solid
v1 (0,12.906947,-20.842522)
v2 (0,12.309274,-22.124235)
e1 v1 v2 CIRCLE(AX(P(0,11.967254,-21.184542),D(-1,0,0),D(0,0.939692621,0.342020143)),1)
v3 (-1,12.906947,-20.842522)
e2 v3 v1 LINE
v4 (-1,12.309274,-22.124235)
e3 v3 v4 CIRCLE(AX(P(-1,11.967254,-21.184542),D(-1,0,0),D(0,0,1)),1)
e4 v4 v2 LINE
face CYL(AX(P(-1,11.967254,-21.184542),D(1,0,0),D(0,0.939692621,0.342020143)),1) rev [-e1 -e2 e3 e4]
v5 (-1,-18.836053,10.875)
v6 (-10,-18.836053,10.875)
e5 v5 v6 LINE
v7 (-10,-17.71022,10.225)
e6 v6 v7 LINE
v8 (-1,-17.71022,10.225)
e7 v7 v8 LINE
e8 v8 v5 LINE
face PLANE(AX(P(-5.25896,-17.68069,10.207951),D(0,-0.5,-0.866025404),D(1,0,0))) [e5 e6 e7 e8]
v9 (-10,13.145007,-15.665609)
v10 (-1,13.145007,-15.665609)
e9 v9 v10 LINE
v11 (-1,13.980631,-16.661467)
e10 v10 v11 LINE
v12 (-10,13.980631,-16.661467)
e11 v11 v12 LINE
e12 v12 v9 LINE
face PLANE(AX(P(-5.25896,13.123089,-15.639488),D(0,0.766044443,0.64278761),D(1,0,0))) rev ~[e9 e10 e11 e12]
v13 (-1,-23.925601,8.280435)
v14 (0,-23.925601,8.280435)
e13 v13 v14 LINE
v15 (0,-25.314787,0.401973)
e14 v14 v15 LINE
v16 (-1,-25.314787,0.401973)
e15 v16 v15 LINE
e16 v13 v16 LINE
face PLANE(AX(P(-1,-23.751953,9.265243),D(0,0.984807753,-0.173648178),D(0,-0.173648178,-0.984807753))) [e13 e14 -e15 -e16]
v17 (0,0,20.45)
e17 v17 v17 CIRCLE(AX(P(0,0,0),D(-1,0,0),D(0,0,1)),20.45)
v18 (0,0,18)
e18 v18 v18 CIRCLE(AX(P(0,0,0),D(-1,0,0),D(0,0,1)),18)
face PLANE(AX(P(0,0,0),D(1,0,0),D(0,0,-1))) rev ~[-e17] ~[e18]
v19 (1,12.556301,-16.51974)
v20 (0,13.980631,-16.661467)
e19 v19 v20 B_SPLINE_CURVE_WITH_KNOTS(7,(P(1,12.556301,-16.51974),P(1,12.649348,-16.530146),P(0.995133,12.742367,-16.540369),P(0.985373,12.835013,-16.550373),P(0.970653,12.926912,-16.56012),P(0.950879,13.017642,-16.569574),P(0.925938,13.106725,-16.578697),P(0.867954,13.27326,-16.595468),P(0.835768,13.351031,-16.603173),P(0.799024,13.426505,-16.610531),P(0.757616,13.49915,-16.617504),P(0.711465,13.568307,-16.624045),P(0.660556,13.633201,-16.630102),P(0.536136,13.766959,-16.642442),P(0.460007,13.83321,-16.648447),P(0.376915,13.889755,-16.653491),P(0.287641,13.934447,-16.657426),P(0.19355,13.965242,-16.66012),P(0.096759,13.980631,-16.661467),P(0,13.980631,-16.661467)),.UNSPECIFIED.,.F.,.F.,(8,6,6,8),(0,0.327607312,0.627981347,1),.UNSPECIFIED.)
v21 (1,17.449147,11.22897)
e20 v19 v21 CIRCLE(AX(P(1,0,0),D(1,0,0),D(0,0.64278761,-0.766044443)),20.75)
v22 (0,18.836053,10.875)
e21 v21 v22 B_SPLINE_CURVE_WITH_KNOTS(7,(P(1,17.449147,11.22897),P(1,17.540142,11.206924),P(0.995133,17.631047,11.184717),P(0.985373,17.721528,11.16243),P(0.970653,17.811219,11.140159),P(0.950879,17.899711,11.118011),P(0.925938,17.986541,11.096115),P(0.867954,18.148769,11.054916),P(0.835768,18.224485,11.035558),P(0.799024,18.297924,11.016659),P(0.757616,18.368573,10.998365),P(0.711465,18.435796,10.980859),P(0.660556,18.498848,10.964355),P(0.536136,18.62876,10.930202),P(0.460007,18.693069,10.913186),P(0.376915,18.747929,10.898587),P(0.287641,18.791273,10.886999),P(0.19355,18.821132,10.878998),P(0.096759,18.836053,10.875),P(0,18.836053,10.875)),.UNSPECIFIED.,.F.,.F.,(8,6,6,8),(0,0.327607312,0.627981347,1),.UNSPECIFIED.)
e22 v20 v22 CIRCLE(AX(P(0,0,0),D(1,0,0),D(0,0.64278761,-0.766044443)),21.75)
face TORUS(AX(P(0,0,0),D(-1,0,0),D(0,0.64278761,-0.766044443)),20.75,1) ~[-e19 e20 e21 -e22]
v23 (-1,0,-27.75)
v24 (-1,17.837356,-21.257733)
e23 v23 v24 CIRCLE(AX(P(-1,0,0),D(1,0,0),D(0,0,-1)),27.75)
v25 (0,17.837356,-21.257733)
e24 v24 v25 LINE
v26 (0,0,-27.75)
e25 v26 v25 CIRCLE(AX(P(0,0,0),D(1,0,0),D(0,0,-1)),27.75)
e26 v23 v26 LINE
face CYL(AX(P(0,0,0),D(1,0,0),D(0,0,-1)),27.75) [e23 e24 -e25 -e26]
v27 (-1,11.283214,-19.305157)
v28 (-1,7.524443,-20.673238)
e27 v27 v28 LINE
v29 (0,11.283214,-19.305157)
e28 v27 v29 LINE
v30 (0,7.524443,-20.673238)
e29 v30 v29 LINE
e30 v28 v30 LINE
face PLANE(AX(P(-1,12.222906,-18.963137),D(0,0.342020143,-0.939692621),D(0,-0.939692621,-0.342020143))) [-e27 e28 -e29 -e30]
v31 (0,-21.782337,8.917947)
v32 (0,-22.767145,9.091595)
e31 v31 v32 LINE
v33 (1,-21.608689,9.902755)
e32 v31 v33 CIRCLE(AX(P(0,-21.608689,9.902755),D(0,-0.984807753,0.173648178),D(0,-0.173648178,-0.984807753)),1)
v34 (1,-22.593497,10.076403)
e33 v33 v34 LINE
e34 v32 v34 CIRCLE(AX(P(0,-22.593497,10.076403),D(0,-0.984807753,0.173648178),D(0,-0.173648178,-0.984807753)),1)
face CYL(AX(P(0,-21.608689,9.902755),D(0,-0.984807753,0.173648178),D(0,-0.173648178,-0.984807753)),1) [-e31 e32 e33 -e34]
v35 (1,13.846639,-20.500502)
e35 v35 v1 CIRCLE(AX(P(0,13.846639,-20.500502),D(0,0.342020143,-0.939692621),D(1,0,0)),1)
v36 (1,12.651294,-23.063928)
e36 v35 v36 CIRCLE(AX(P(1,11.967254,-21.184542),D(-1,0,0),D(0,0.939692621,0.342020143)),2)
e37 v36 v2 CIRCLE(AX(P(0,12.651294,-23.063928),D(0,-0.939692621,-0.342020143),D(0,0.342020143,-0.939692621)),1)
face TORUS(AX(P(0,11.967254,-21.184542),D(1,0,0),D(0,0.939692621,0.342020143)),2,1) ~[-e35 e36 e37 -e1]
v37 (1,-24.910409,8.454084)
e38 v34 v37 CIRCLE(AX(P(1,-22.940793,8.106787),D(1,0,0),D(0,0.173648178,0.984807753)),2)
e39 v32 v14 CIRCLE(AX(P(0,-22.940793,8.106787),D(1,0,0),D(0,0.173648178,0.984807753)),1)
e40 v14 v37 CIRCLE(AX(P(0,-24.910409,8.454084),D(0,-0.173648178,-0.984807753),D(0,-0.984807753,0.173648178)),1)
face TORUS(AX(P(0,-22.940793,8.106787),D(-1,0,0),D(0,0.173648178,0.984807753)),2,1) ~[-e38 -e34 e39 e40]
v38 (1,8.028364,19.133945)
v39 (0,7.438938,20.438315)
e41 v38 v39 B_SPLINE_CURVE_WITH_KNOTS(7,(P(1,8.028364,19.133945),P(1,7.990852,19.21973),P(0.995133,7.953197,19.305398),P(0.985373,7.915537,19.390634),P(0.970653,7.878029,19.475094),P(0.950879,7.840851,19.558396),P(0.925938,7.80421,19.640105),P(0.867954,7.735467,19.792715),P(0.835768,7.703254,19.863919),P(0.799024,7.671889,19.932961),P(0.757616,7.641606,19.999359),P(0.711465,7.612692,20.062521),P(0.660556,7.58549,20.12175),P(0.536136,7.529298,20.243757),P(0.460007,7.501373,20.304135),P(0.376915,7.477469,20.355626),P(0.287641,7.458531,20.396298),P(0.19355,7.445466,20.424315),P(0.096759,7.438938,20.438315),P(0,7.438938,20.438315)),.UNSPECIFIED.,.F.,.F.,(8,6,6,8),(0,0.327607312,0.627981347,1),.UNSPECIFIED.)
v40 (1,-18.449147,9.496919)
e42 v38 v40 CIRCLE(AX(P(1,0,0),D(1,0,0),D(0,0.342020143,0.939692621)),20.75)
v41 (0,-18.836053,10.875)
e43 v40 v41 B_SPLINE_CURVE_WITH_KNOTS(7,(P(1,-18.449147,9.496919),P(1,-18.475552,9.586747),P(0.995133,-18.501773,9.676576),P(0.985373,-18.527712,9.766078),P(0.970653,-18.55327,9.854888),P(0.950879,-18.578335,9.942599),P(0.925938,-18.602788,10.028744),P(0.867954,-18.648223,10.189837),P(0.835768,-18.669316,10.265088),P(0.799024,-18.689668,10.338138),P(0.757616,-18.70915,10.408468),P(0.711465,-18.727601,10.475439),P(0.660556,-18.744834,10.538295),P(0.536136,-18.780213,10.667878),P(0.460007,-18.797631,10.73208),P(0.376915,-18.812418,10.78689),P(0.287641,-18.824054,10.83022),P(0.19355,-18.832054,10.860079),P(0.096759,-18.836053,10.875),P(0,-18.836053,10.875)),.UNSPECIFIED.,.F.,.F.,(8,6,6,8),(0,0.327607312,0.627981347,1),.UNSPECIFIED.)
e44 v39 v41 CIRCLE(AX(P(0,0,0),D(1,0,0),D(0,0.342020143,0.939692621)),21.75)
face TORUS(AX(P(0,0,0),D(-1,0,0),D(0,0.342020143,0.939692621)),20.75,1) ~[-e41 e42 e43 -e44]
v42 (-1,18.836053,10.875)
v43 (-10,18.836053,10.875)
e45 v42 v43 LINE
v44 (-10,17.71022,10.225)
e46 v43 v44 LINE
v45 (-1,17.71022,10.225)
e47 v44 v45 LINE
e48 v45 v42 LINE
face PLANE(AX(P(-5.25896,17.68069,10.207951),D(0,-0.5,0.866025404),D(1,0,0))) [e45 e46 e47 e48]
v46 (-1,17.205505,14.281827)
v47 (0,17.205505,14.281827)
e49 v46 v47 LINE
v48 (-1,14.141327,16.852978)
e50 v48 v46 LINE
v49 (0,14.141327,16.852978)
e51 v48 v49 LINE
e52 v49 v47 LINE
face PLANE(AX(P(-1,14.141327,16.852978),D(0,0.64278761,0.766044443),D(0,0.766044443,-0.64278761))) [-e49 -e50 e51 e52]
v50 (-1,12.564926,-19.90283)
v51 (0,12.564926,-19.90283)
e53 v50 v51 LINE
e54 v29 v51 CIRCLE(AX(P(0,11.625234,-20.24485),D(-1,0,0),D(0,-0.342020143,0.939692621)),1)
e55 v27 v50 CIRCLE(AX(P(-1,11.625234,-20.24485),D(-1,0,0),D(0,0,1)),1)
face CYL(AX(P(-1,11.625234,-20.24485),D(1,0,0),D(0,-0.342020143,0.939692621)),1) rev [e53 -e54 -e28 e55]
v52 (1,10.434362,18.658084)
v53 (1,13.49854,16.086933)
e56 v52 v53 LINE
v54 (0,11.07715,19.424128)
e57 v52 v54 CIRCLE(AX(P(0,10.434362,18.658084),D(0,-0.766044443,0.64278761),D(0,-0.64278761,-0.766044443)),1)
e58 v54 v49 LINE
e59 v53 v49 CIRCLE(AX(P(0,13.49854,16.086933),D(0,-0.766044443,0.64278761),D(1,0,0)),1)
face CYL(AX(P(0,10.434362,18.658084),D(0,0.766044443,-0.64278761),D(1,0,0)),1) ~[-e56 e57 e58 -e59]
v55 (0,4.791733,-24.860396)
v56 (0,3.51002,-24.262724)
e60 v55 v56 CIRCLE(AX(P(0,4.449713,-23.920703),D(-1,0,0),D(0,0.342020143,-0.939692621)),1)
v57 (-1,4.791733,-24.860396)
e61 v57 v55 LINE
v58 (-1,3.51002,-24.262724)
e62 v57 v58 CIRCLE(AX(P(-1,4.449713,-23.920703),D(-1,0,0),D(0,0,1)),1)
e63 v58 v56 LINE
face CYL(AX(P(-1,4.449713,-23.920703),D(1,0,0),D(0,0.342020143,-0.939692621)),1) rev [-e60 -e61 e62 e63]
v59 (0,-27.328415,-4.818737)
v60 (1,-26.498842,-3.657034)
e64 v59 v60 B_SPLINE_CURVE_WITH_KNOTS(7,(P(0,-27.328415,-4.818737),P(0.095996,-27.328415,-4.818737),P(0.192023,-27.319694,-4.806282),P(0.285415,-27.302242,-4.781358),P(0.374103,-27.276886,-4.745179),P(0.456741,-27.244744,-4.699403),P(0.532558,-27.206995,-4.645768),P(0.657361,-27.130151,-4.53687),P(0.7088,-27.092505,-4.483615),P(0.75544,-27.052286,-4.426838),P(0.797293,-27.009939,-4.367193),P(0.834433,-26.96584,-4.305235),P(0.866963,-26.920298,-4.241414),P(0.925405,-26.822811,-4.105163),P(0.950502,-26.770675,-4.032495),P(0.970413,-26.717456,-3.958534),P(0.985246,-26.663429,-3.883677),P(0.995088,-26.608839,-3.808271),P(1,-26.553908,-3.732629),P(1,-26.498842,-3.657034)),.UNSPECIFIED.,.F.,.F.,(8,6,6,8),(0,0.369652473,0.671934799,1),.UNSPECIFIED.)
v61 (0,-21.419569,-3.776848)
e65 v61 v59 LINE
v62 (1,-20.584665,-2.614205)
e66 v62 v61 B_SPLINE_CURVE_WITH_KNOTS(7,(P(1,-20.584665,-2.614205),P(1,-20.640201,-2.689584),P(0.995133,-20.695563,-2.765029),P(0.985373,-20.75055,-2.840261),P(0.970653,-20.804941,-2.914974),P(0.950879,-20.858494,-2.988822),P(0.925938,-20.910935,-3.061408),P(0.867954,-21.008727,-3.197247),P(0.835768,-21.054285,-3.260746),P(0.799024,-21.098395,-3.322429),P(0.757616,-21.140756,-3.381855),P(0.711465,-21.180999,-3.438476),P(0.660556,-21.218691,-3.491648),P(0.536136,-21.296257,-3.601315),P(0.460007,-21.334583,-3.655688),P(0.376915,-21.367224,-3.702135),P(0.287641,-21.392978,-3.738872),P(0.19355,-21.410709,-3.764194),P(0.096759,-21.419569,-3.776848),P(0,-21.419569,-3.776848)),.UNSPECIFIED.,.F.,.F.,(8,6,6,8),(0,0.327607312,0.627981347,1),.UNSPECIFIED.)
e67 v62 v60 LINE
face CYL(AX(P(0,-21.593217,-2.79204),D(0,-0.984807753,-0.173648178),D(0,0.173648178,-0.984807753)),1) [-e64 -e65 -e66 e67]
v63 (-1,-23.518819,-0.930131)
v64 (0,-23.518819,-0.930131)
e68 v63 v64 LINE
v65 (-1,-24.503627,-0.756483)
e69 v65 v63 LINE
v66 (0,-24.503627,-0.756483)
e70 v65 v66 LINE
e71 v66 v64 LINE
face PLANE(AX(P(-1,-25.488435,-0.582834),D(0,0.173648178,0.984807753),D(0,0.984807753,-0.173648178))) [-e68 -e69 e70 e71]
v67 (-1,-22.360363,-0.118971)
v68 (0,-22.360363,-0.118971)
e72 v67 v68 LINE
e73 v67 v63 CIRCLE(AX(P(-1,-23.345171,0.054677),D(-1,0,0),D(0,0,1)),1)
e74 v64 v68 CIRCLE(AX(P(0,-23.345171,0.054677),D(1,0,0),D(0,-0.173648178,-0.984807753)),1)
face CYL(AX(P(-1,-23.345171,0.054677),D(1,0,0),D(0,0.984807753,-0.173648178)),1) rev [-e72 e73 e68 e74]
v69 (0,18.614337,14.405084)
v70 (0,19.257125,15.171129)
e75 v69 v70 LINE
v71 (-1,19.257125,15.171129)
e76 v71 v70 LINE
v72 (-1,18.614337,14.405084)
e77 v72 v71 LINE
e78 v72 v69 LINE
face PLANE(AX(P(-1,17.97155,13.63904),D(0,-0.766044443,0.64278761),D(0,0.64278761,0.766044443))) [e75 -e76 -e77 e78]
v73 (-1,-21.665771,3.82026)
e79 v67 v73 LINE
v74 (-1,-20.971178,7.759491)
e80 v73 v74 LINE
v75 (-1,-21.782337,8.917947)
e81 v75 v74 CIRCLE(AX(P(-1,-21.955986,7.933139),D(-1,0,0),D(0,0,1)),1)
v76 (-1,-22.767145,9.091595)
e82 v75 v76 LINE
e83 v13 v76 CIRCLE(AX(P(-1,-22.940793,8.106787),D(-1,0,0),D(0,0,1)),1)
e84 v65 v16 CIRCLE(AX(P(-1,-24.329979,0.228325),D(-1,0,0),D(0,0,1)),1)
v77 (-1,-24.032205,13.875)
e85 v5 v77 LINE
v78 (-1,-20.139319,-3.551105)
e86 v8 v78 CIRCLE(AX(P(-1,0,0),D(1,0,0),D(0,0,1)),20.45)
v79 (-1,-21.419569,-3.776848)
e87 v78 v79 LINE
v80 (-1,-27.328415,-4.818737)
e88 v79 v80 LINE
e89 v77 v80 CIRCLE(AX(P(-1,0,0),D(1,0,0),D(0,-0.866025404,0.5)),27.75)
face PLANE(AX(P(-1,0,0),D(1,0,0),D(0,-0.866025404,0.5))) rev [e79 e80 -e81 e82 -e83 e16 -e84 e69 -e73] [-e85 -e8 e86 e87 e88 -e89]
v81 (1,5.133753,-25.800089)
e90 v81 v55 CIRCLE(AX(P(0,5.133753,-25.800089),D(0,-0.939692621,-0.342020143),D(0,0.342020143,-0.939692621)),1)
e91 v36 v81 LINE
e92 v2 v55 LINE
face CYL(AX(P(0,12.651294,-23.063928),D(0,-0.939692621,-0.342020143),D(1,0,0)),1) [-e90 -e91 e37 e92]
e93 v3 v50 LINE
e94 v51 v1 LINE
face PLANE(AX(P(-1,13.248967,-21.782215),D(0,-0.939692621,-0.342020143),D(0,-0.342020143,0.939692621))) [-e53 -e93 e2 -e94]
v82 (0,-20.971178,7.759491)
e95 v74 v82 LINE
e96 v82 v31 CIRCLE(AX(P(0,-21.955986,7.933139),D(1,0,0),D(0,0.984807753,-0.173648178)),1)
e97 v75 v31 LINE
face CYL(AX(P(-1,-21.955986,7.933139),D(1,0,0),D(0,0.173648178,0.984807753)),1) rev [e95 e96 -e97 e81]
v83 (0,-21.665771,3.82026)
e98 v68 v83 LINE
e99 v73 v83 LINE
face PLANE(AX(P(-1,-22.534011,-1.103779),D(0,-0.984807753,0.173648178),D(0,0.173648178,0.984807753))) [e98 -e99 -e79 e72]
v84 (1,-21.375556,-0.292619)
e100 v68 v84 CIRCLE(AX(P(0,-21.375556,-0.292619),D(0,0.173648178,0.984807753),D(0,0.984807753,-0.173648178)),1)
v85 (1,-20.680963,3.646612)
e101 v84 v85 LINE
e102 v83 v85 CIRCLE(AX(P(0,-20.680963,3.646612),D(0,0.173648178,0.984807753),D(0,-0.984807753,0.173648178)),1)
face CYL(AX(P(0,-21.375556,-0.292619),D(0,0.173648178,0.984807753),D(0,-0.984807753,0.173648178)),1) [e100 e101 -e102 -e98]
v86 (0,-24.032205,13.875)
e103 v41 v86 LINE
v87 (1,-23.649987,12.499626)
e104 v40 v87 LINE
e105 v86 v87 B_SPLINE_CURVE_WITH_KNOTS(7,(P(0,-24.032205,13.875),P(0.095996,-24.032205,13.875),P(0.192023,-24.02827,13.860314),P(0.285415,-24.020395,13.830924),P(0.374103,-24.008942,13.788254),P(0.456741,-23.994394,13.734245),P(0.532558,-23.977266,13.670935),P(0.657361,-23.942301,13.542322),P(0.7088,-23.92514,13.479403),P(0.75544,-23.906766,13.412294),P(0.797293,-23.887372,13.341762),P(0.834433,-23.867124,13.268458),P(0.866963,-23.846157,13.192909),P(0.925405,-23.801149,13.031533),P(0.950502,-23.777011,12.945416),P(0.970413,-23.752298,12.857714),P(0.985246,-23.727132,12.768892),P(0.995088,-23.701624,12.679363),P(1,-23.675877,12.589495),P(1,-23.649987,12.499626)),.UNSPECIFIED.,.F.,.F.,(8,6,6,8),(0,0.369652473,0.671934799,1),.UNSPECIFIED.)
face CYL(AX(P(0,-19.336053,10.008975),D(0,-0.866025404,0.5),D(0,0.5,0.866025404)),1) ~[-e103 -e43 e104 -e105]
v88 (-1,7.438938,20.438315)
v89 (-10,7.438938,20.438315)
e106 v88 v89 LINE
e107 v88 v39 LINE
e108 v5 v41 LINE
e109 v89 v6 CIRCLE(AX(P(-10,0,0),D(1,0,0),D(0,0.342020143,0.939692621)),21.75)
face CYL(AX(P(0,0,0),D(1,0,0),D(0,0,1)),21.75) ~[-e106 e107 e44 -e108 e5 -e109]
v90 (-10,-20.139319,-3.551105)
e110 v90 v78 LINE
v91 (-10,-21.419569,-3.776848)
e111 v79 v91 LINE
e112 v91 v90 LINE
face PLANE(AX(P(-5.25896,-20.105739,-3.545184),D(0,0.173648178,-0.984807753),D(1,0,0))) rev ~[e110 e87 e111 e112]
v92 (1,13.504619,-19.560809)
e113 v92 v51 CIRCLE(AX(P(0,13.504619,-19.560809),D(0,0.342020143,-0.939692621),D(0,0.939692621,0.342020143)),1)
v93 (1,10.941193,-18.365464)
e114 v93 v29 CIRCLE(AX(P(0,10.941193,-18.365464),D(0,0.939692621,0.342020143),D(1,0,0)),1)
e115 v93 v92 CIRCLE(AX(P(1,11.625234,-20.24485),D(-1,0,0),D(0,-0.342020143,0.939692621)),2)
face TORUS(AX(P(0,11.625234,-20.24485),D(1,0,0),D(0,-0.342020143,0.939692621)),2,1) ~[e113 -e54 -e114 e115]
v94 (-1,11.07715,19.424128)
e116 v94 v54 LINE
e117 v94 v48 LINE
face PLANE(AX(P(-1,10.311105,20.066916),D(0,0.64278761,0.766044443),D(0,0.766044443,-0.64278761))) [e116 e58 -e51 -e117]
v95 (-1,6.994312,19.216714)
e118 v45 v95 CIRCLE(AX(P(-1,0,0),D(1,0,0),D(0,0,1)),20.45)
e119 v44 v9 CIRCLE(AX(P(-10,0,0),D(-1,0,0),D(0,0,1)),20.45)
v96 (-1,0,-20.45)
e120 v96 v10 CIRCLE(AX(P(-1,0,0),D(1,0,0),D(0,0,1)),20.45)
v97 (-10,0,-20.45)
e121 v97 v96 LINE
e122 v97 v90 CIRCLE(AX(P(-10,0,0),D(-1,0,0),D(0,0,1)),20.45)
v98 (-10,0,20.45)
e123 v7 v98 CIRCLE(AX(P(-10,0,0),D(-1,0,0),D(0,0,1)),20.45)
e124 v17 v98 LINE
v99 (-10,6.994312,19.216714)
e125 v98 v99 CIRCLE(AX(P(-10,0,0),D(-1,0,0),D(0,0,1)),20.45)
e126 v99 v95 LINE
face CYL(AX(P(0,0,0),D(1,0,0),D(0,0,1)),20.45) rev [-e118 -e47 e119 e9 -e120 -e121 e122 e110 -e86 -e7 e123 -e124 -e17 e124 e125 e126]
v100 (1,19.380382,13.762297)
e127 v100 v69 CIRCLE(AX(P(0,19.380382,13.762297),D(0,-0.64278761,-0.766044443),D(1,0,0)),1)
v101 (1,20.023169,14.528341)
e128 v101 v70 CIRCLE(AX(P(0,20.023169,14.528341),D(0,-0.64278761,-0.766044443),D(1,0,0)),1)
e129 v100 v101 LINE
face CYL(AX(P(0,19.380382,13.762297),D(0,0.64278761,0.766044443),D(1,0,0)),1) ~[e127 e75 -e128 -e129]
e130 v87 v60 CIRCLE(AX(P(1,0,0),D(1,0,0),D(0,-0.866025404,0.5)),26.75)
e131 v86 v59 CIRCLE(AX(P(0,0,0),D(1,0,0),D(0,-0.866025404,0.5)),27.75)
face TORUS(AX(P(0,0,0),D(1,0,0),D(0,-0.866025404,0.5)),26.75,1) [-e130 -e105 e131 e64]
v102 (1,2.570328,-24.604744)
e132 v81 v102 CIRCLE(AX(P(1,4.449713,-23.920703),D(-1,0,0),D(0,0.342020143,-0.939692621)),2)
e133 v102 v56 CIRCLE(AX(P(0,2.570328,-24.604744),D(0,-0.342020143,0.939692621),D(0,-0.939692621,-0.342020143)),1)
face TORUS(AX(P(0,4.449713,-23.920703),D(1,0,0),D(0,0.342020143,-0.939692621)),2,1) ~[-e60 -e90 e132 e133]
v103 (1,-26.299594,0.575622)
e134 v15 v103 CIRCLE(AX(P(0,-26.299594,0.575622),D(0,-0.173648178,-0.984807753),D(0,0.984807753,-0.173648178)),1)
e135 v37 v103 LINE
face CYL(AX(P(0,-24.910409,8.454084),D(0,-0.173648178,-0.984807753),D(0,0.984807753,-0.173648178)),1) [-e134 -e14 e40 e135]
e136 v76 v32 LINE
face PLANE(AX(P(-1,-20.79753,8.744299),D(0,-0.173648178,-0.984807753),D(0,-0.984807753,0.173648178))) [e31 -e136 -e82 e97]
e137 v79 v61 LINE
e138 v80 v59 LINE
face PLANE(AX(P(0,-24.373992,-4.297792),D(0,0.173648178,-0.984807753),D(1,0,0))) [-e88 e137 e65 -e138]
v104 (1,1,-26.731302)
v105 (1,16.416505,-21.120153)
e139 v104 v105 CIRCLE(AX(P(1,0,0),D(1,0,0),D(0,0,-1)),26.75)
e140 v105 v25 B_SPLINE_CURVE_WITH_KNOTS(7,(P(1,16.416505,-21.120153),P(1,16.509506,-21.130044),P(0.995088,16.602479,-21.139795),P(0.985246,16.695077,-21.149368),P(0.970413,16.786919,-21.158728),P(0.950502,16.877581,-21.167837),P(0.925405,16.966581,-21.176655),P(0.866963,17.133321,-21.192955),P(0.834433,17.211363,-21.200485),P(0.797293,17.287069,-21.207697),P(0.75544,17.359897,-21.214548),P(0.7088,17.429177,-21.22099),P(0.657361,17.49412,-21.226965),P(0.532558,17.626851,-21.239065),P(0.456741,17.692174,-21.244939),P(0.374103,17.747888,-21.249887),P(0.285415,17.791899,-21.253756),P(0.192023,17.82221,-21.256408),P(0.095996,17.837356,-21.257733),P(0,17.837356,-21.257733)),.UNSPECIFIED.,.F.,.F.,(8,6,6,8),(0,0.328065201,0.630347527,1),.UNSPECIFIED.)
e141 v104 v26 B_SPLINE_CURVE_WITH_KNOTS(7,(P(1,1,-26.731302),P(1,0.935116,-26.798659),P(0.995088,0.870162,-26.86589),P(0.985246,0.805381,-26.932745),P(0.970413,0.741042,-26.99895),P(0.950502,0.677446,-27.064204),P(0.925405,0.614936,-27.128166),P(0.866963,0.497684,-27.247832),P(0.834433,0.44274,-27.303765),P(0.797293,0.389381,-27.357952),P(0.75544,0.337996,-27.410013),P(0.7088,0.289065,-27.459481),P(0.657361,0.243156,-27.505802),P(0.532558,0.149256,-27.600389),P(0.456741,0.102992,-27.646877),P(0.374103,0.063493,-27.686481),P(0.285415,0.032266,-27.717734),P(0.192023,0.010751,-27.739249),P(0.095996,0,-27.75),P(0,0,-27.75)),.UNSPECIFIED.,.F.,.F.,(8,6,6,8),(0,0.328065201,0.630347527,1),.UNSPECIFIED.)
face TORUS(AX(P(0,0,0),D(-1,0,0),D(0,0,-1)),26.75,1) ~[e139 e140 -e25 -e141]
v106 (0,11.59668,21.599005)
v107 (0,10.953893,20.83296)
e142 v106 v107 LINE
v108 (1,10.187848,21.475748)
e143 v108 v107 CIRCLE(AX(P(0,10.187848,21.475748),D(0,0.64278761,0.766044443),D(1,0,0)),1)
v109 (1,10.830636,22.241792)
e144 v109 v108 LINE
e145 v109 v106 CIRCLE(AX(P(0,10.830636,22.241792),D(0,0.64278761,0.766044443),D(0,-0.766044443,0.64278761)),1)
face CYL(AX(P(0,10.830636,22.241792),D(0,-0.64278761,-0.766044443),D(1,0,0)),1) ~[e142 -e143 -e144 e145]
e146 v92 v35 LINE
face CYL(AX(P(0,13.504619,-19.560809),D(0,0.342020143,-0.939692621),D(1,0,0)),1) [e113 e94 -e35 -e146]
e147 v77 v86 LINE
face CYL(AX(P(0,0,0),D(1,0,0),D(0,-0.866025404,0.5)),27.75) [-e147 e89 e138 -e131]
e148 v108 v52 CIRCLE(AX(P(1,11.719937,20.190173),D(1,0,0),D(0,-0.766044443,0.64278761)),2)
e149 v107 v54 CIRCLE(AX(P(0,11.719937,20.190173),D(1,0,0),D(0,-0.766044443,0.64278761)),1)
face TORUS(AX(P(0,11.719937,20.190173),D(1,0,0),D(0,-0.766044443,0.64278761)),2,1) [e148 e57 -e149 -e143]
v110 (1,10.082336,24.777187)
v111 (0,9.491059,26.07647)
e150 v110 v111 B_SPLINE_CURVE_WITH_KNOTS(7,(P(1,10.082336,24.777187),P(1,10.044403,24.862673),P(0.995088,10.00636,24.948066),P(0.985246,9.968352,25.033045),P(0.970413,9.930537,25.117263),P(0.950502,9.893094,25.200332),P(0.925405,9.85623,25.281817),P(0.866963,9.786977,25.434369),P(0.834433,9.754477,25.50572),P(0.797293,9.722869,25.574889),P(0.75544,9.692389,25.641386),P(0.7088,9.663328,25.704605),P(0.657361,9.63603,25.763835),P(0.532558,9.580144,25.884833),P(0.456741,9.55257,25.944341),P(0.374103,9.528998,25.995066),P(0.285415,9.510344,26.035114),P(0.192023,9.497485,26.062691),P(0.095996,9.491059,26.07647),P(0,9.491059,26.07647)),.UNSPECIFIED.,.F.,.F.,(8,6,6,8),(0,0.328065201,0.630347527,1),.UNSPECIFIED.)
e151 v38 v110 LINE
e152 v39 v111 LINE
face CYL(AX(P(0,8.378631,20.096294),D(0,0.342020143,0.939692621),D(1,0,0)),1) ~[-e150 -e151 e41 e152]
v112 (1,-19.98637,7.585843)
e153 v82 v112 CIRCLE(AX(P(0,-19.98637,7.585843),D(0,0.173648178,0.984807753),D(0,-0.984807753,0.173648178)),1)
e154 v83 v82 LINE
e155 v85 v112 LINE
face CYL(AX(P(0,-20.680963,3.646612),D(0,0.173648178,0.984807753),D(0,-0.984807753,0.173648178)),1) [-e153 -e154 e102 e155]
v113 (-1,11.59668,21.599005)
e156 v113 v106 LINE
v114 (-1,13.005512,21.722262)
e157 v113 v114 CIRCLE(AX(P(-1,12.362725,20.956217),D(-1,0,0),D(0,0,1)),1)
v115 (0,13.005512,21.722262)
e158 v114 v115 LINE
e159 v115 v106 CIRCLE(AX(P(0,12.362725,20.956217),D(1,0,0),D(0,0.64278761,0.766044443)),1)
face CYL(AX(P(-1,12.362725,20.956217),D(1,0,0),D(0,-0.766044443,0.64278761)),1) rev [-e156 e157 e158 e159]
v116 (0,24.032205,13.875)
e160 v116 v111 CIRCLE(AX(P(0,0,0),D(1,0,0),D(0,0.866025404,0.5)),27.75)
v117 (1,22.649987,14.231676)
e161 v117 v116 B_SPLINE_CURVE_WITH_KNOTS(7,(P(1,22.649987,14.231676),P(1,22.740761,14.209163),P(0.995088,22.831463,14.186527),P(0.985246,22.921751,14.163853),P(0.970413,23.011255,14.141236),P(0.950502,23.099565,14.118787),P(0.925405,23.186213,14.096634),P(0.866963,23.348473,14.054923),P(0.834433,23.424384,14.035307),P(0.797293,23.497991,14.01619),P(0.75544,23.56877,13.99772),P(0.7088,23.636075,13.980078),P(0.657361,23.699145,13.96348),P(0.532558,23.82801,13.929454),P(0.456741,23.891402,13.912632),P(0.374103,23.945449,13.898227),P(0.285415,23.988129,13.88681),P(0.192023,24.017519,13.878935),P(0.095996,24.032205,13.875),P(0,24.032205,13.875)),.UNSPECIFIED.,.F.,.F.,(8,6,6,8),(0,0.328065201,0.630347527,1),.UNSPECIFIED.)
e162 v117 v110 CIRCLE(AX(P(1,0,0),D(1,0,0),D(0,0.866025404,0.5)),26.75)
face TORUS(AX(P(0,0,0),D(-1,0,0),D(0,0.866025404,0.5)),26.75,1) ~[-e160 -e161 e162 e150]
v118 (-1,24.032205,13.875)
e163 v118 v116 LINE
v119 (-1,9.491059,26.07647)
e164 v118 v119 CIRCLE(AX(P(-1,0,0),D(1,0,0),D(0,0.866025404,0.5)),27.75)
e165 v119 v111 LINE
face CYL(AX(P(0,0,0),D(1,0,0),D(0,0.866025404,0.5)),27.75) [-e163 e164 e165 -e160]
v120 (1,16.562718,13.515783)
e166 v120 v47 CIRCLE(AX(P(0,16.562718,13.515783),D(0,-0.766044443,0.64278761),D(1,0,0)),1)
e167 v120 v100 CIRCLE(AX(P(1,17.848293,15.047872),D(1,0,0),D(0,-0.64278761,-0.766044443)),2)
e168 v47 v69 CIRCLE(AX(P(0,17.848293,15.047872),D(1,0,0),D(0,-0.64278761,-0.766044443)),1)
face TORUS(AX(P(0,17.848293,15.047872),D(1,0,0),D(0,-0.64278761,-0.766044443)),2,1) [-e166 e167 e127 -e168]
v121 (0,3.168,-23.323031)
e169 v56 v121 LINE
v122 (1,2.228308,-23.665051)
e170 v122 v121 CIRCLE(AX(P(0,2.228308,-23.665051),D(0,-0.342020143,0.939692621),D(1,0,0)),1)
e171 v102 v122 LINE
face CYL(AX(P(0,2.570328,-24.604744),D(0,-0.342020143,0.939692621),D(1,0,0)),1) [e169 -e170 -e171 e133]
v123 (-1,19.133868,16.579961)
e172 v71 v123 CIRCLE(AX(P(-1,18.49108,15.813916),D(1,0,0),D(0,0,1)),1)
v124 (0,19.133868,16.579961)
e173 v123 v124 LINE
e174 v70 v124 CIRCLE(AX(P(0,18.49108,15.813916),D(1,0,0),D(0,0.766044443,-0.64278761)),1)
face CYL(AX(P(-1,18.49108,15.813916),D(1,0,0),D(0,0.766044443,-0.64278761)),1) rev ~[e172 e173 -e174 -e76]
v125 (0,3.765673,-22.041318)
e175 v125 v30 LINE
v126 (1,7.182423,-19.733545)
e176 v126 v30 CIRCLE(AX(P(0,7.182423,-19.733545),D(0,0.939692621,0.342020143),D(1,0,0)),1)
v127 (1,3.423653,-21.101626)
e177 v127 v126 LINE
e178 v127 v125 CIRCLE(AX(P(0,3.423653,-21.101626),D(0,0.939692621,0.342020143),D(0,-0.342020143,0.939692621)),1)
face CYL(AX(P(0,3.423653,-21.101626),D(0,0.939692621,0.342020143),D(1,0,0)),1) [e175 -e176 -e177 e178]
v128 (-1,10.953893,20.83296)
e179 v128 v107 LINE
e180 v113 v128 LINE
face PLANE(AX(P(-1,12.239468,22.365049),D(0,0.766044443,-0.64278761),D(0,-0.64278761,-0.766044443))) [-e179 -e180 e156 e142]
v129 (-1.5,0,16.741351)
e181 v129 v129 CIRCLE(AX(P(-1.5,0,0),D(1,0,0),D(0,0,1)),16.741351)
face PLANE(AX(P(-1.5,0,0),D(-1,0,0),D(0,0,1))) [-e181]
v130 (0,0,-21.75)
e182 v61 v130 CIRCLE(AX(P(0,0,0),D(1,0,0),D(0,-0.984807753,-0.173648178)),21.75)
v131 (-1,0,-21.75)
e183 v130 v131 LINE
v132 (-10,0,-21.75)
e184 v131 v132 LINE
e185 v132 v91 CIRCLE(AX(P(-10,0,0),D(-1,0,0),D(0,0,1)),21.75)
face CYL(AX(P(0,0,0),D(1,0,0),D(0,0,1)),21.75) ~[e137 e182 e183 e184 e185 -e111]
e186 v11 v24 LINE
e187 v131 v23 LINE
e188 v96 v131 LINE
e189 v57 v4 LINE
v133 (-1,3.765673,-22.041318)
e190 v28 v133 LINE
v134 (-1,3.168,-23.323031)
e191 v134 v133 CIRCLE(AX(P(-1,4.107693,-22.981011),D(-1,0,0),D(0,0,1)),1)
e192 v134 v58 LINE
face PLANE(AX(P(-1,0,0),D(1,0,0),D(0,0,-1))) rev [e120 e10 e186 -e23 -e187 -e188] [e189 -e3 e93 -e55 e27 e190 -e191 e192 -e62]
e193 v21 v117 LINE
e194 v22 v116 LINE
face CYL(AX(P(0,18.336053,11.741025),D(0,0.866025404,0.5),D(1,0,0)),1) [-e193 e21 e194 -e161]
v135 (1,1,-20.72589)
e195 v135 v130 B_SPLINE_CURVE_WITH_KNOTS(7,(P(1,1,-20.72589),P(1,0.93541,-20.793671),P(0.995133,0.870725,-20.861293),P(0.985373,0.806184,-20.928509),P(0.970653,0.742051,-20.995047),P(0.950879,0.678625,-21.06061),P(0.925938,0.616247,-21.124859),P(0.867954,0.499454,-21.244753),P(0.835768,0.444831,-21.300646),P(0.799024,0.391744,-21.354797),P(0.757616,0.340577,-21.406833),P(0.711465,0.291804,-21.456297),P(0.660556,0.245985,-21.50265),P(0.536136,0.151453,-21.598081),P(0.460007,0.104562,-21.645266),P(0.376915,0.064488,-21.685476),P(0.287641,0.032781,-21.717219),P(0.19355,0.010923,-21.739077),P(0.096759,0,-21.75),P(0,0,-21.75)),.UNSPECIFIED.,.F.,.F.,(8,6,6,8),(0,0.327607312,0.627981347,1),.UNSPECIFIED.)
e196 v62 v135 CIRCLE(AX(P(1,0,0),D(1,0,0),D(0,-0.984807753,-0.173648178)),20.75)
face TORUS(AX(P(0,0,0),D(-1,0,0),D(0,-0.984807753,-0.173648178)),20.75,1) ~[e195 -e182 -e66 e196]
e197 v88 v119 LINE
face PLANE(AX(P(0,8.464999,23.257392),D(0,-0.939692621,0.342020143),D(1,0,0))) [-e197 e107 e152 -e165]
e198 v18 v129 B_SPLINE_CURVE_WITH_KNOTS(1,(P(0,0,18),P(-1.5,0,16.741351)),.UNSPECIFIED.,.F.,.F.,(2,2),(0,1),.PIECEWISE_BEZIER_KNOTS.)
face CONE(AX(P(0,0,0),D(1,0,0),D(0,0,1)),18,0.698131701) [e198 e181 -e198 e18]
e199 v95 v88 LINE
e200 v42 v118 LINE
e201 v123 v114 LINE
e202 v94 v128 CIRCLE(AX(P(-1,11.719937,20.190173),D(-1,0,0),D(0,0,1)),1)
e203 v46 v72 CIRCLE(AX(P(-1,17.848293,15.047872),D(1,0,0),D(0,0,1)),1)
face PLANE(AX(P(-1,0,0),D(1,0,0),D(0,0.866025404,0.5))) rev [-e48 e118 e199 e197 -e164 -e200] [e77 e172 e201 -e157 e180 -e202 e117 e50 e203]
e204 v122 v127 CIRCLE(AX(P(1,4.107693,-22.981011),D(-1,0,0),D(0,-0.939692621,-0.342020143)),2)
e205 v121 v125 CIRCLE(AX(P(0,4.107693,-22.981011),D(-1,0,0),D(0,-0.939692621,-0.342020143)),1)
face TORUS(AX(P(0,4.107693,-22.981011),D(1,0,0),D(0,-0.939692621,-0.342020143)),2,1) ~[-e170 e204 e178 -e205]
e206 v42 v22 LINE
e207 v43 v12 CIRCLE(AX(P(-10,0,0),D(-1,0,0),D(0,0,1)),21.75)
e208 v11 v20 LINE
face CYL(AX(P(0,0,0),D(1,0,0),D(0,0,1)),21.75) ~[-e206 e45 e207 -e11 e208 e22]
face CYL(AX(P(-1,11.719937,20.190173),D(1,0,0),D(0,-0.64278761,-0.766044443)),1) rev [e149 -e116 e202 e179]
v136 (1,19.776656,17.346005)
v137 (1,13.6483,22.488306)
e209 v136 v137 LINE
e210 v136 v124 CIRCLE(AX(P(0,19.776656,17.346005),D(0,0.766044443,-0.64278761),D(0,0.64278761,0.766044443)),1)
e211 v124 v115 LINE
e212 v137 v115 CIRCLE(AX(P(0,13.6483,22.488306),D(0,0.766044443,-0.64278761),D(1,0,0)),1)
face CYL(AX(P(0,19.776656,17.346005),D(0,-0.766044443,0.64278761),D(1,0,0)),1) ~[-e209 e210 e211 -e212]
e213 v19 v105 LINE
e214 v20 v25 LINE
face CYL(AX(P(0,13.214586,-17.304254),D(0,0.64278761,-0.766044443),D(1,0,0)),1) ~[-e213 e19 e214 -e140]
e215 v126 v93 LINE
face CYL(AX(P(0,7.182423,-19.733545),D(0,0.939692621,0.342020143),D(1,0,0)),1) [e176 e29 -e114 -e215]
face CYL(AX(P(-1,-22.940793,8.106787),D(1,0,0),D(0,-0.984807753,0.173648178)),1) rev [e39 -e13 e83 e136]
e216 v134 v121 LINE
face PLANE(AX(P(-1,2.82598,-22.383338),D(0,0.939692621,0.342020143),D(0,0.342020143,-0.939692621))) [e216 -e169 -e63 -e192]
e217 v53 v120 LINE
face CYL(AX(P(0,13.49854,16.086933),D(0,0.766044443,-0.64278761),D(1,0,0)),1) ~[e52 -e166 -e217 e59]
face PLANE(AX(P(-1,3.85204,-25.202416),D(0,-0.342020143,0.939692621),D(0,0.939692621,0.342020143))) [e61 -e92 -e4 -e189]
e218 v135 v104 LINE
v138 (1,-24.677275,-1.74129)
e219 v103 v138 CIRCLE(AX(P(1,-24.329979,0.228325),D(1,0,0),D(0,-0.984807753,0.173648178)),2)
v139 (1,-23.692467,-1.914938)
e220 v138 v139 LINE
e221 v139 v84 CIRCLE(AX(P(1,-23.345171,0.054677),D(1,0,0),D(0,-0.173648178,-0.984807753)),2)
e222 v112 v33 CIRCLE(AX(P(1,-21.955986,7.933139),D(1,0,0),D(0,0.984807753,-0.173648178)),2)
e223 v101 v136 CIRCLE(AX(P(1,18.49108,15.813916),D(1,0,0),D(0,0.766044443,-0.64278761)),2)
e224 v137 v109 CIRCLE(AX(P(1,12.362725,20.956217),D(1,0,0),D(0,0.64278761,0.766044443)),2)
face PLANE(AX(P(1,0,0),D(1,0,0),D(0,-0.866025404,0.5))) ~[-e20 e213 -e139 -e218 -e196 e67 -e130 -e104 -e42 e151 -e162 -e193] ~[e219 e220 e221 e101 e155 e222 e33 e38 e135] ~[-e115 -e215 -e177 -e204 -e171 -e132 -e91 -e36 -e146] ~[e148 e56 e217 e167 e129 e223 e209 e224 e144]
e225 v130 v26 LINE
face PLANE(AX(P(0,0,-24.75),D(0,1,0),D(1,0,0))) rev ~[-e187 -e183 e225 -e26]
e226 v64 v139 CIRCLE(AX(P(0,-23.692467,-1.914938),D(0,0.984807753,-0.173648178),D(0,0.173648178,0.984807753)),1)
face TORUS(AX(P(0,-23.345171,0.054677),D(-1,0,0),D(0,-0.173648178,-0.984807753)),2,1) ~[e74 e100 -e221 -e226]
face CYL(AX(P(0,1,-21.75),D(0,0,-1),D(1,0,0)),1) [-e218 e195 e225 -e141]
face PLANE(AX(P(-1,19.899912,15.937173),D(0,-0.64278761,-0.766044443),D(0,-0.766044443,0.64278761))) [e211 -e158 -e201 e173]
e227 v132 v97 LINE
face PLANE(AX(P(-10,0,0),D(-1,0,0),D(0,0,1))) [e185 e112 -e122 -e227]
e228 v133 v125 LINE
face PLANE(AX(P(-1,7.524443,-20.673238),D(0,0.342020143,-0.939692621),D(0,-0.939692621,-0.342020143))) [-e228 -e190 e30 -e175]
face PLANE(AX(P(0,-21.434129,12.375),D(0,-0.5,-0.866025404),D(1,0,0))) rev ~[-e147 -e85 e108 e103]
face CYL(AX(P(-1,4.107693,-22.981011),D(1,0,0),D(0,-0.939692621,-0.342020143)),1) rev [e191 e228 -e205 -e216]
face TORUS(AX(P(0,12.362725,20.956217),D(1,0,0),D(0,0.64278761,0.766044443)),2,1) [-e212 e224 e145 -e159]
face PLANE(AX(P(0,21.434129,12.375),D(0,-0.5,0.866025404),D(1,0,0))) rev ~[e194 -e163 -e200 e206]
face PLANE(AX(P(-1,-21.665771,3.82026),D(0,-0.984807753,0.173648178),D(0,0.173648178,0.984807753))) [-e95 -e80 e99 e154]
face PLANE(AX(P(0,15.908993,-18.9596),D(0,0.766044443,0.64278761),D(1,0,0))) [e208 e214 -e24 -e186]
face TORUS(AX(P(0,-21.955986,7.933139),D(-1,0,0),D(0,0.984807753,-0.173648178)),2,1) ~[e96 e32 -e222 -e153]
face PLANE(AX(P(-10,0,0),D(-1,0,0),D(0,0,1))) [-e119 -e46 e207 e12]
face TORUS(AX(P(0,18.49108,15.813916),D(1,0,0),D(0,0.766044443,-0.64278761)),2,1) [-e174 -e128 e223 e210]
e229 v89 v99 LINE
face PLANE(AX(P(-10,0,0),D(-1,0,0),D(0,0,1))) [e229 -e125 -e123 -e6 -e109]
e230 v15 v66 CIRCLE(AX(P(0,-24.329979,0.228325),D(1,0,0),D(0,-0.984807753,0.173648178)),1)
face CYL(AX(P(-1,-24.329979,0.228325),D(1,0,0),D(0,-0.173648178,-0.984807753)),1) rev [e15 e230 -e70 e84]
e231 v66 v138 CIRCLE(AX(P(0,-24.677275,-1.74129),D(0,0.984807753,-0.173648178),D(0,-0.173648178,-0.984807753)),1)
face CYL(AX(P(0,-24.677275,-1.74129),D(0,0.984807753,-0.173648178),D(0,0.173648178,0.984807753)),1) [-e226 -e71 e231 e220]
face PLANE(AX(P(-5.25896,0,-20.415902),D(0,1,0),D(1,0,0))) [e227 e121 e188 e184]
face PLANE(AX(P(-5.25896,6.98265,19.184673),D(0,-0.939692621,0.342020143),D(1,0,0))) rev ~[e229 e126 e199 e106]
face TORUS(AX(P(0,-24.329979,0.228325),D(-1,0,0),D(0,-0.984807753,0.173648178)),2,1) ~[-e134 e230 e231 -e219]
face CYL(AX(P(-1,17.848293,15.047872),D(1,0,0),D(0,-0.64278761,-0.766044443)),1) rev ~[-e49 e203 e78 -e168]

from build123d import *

# Parameters (mm, degrees)
SKETCH1_R                = 21.75
BOSS_EXTRUDE1_DEPTH      = 1
SKETCH2_R                = 18
BOSS_EXTRUDE2_DEPTH      = 1.5
BOSS_EXTRUDE2_TAPER      = 40
SKETCH3_R                = 21.75
SKETCH3_R_2              = 20.45
BOSS_EXTRUDE3_DEPTH      = 10
CUT_REVOLVE1_ANGLE       = 40
CIRPATTERN1_COUNT        = 3
SKETCH8_W                = 2
SKETCH8_H                = 6
REVOLVE1_ANGLE           = 40
CUT_EXTRUDE1_DEPTH       = 10
FILLET5_R                = 1
CIRPATTERN3_COUNT        = 3
FILLET5_OF_CIRPATTERN3_R = 1
FILLET6_R                = 1


with BuildPart() as part:
    # Sketch1 → Boss-Extrude1 (new body)
    with BuildSketch(Plane(origin=(0, 0, 0), x_dir=(0, 0, -1), z_dir=(1, 0, 0))):
        Circle(SKETCH1_R)
    extrude(amount=BOSS_EXTRUDE1_DEPTH)

    # Sketch2 → Boss-Extrude2 (add)
    with BuildSketch(Plane.ZY):
        Circle(SKETCH2_R)
    extrude(amount=BOSS_EXTRUDE2_DEPTH, taper=BOSS_EXTRUDE2_TAPER)

    # Sketch3 → Boss-Extrude3 (add)
    with BuildSketch(Plane.ZY):
        Circle(SKETCH3_R)
        Circle(SKETCH3_R_2, mode=Mode.SUBTRACT)
    extrude(amount=BOSS_EXTRUDE3_DEPTH)

    # Sketch6 → Cut-Revolve1 (revolve, cut)
    with BuildSketch(Plane(origin=(0, 0, 0), x_dir=(1, 0, 0), z_dir=(0, 1, 0))):
        Polygon((-10, 21.75), (-10, 19.75), (-1, 18.5), (-1, 21.75), align=None)
    cut_revolve1 = revolve(axis=Axis((-10, 0, 0), (1, 0, 0)), revolution_arc=CUT_REVOLVE1_ANGLE, mode=Mode.SUBTRACT)

    # CirPattern1: Cut-Revolve1 ×3 about axis
    cirpattern1_axis = Axis((0, 0, 0), (1, 0, 0))
    for i in range(1, CIRPATTERN1_COUNT):
        add(cut_revolve1.rotate(cirpattern1_axis, i * 360 / CIRPATTERN1_COUNT), mode=Mode.SUBTRACT)

    # Sketch8 → Revolve1 (revolve)
    with BuildSketch(Plane(origin=(0, 0, 0), x_dir=(1, 0, 0), z_dir=(0, 1, 0))):
        with Locations((0, 24.75)):
            Rectangle(SKETCH8_W, SKETCH8_H)
    revolve1 = revolve(axis=Axis((-10, 0, 0), (1, 0, 0)), revolution_arc=REVOLVE1_ANGLE)

    # Sketch9 → Cut-Extrude1 (cut)
    with BuildSketch(Plane.ZY.offset(1)):
        Polygon((-20.673237657, 7.524443153), (-22.383338374, 2.825980049), (-25.202416236, 3.852040479), (-21.782214803, 13.248966687), (-18.963136941, 12.222906257), align=None)
    cut_extrude1 = extrude(amount=-CUT_EXTRUDE1_DEPTH, mode=Mode.SUBTRACT)

    # Fillet5
    fillet5_edges = [part.edges().sort_by_distance(p)[0] for p in [
        (0, 12.222906257, -18.963136941),
        (0, 2.825980049, -22.383338374),
        (0, 3.852040479, -25.202416236),
        (0, 13.248966687, -21.782214803),
    ]]
    fillet(fillet5_edges, radius=FILLET5_R)

    # CirPattern3: Revolve1, Cut-Extrude1 ×3 about axis
    cirpattern3_axis = Axis((0, 0, 0), (1, 0, 0))
    for i in range(1, CIRPATTERN3_COUNT):
        add(revolve1.rotate(cirpattern3_axis, i * 360 / CIRPATTERN3_COUNT))
        add(cut_extrude1.rotate(cirpattern3_axis, i * 360 / CIRPATTERN3_COUNT), mode=Mode.SUBTRACT)

    # Fillet5 of CirPattern3
    fillet5_of_cirpattern3_edges = [part.edges().sort_by_distance(p)[0] for p in [
        (0, 10.311105198, 20.066915797),
        (0, 17.971549629, 13.6390397),
        (0, 19.899912458, 15.93717303),
        (0, 12.239468027, 22.365049126),
        (0, -22.534011455, -1.103778856),
        (0, -20.797529678, 8.744298674),
        (0, -23.751952937, 9.265243207),
        (0, -25.488434714, -0.582834323),
    ]]
    fillet(fillet5_of_cirpattern3_edges, radius=FILLET5_OF_CIRPATTERN3_R)

    # Fillet6
    fillet6_edges = [part.edges().sort_by_distance(p)[0] for p in [
        (1, 4.027094695, -24.827011259),
        (1, 3.201385026, -22.55839259),
        (1, 12.047852041, -19.338541918),
        (1, 12.87356171, -21.607160587),
        (1, -7.438938117, 20.438314502),
        (1, 17.837356169, 21.257733297),
        (1, 21.434128744, 12.375),
        (1, 8.464998547, 23.257392364),
        (1, -13.980630511, -16.661466638),
        (1, -27.328415146, 4.81873693),
        (1, -21.434128744, 12.375),
        (1, -24.373991887, -4.297792397),
        (1, 18.935731043, 14.788106365),
        (1, 16.069690242, 19.151111078),
        (1, 14.141327413, 16.852977749),
        (1, 11.275286612, 21.215982462),
        (1, 19.487275103, 15.901071939),
        (1, 17.935448538, 14.051677055),
        (1, 10.723742552, 20.103016888),
        (1, 12.275569117, 21.952411772),
        (1, -22.274741307, 9.00477094),
        (1, -24.620193825, 4.341204442),
        (1, -21.665770566, 3.820259909),
        (1, -24.011223084, -0.84330659),
        (1, -23.514369798, 8.92593932),
        (1, -21.136833564, 8.506715535),
        (1, -22.771594594, -0.76447497),
        (1, -25.149130827, -0.345251184),
        (1, 21.419568628, -3.776847864),
        (1, 9.491058977, -26.076470227),
        (1, 0, -24.75),
        (1, 15.90899334, -18.959599967),
        (1, 3.339010264, -23.792877305),
        (1, 8.550503583, -23.49231552),
        (1, 7.524443153, -20.673237657),
        (1, 12.735936472, -20.372675872),
    ]]
    fillet(fillet6_edges, radius=FILLET6_R)


solid = part.part
